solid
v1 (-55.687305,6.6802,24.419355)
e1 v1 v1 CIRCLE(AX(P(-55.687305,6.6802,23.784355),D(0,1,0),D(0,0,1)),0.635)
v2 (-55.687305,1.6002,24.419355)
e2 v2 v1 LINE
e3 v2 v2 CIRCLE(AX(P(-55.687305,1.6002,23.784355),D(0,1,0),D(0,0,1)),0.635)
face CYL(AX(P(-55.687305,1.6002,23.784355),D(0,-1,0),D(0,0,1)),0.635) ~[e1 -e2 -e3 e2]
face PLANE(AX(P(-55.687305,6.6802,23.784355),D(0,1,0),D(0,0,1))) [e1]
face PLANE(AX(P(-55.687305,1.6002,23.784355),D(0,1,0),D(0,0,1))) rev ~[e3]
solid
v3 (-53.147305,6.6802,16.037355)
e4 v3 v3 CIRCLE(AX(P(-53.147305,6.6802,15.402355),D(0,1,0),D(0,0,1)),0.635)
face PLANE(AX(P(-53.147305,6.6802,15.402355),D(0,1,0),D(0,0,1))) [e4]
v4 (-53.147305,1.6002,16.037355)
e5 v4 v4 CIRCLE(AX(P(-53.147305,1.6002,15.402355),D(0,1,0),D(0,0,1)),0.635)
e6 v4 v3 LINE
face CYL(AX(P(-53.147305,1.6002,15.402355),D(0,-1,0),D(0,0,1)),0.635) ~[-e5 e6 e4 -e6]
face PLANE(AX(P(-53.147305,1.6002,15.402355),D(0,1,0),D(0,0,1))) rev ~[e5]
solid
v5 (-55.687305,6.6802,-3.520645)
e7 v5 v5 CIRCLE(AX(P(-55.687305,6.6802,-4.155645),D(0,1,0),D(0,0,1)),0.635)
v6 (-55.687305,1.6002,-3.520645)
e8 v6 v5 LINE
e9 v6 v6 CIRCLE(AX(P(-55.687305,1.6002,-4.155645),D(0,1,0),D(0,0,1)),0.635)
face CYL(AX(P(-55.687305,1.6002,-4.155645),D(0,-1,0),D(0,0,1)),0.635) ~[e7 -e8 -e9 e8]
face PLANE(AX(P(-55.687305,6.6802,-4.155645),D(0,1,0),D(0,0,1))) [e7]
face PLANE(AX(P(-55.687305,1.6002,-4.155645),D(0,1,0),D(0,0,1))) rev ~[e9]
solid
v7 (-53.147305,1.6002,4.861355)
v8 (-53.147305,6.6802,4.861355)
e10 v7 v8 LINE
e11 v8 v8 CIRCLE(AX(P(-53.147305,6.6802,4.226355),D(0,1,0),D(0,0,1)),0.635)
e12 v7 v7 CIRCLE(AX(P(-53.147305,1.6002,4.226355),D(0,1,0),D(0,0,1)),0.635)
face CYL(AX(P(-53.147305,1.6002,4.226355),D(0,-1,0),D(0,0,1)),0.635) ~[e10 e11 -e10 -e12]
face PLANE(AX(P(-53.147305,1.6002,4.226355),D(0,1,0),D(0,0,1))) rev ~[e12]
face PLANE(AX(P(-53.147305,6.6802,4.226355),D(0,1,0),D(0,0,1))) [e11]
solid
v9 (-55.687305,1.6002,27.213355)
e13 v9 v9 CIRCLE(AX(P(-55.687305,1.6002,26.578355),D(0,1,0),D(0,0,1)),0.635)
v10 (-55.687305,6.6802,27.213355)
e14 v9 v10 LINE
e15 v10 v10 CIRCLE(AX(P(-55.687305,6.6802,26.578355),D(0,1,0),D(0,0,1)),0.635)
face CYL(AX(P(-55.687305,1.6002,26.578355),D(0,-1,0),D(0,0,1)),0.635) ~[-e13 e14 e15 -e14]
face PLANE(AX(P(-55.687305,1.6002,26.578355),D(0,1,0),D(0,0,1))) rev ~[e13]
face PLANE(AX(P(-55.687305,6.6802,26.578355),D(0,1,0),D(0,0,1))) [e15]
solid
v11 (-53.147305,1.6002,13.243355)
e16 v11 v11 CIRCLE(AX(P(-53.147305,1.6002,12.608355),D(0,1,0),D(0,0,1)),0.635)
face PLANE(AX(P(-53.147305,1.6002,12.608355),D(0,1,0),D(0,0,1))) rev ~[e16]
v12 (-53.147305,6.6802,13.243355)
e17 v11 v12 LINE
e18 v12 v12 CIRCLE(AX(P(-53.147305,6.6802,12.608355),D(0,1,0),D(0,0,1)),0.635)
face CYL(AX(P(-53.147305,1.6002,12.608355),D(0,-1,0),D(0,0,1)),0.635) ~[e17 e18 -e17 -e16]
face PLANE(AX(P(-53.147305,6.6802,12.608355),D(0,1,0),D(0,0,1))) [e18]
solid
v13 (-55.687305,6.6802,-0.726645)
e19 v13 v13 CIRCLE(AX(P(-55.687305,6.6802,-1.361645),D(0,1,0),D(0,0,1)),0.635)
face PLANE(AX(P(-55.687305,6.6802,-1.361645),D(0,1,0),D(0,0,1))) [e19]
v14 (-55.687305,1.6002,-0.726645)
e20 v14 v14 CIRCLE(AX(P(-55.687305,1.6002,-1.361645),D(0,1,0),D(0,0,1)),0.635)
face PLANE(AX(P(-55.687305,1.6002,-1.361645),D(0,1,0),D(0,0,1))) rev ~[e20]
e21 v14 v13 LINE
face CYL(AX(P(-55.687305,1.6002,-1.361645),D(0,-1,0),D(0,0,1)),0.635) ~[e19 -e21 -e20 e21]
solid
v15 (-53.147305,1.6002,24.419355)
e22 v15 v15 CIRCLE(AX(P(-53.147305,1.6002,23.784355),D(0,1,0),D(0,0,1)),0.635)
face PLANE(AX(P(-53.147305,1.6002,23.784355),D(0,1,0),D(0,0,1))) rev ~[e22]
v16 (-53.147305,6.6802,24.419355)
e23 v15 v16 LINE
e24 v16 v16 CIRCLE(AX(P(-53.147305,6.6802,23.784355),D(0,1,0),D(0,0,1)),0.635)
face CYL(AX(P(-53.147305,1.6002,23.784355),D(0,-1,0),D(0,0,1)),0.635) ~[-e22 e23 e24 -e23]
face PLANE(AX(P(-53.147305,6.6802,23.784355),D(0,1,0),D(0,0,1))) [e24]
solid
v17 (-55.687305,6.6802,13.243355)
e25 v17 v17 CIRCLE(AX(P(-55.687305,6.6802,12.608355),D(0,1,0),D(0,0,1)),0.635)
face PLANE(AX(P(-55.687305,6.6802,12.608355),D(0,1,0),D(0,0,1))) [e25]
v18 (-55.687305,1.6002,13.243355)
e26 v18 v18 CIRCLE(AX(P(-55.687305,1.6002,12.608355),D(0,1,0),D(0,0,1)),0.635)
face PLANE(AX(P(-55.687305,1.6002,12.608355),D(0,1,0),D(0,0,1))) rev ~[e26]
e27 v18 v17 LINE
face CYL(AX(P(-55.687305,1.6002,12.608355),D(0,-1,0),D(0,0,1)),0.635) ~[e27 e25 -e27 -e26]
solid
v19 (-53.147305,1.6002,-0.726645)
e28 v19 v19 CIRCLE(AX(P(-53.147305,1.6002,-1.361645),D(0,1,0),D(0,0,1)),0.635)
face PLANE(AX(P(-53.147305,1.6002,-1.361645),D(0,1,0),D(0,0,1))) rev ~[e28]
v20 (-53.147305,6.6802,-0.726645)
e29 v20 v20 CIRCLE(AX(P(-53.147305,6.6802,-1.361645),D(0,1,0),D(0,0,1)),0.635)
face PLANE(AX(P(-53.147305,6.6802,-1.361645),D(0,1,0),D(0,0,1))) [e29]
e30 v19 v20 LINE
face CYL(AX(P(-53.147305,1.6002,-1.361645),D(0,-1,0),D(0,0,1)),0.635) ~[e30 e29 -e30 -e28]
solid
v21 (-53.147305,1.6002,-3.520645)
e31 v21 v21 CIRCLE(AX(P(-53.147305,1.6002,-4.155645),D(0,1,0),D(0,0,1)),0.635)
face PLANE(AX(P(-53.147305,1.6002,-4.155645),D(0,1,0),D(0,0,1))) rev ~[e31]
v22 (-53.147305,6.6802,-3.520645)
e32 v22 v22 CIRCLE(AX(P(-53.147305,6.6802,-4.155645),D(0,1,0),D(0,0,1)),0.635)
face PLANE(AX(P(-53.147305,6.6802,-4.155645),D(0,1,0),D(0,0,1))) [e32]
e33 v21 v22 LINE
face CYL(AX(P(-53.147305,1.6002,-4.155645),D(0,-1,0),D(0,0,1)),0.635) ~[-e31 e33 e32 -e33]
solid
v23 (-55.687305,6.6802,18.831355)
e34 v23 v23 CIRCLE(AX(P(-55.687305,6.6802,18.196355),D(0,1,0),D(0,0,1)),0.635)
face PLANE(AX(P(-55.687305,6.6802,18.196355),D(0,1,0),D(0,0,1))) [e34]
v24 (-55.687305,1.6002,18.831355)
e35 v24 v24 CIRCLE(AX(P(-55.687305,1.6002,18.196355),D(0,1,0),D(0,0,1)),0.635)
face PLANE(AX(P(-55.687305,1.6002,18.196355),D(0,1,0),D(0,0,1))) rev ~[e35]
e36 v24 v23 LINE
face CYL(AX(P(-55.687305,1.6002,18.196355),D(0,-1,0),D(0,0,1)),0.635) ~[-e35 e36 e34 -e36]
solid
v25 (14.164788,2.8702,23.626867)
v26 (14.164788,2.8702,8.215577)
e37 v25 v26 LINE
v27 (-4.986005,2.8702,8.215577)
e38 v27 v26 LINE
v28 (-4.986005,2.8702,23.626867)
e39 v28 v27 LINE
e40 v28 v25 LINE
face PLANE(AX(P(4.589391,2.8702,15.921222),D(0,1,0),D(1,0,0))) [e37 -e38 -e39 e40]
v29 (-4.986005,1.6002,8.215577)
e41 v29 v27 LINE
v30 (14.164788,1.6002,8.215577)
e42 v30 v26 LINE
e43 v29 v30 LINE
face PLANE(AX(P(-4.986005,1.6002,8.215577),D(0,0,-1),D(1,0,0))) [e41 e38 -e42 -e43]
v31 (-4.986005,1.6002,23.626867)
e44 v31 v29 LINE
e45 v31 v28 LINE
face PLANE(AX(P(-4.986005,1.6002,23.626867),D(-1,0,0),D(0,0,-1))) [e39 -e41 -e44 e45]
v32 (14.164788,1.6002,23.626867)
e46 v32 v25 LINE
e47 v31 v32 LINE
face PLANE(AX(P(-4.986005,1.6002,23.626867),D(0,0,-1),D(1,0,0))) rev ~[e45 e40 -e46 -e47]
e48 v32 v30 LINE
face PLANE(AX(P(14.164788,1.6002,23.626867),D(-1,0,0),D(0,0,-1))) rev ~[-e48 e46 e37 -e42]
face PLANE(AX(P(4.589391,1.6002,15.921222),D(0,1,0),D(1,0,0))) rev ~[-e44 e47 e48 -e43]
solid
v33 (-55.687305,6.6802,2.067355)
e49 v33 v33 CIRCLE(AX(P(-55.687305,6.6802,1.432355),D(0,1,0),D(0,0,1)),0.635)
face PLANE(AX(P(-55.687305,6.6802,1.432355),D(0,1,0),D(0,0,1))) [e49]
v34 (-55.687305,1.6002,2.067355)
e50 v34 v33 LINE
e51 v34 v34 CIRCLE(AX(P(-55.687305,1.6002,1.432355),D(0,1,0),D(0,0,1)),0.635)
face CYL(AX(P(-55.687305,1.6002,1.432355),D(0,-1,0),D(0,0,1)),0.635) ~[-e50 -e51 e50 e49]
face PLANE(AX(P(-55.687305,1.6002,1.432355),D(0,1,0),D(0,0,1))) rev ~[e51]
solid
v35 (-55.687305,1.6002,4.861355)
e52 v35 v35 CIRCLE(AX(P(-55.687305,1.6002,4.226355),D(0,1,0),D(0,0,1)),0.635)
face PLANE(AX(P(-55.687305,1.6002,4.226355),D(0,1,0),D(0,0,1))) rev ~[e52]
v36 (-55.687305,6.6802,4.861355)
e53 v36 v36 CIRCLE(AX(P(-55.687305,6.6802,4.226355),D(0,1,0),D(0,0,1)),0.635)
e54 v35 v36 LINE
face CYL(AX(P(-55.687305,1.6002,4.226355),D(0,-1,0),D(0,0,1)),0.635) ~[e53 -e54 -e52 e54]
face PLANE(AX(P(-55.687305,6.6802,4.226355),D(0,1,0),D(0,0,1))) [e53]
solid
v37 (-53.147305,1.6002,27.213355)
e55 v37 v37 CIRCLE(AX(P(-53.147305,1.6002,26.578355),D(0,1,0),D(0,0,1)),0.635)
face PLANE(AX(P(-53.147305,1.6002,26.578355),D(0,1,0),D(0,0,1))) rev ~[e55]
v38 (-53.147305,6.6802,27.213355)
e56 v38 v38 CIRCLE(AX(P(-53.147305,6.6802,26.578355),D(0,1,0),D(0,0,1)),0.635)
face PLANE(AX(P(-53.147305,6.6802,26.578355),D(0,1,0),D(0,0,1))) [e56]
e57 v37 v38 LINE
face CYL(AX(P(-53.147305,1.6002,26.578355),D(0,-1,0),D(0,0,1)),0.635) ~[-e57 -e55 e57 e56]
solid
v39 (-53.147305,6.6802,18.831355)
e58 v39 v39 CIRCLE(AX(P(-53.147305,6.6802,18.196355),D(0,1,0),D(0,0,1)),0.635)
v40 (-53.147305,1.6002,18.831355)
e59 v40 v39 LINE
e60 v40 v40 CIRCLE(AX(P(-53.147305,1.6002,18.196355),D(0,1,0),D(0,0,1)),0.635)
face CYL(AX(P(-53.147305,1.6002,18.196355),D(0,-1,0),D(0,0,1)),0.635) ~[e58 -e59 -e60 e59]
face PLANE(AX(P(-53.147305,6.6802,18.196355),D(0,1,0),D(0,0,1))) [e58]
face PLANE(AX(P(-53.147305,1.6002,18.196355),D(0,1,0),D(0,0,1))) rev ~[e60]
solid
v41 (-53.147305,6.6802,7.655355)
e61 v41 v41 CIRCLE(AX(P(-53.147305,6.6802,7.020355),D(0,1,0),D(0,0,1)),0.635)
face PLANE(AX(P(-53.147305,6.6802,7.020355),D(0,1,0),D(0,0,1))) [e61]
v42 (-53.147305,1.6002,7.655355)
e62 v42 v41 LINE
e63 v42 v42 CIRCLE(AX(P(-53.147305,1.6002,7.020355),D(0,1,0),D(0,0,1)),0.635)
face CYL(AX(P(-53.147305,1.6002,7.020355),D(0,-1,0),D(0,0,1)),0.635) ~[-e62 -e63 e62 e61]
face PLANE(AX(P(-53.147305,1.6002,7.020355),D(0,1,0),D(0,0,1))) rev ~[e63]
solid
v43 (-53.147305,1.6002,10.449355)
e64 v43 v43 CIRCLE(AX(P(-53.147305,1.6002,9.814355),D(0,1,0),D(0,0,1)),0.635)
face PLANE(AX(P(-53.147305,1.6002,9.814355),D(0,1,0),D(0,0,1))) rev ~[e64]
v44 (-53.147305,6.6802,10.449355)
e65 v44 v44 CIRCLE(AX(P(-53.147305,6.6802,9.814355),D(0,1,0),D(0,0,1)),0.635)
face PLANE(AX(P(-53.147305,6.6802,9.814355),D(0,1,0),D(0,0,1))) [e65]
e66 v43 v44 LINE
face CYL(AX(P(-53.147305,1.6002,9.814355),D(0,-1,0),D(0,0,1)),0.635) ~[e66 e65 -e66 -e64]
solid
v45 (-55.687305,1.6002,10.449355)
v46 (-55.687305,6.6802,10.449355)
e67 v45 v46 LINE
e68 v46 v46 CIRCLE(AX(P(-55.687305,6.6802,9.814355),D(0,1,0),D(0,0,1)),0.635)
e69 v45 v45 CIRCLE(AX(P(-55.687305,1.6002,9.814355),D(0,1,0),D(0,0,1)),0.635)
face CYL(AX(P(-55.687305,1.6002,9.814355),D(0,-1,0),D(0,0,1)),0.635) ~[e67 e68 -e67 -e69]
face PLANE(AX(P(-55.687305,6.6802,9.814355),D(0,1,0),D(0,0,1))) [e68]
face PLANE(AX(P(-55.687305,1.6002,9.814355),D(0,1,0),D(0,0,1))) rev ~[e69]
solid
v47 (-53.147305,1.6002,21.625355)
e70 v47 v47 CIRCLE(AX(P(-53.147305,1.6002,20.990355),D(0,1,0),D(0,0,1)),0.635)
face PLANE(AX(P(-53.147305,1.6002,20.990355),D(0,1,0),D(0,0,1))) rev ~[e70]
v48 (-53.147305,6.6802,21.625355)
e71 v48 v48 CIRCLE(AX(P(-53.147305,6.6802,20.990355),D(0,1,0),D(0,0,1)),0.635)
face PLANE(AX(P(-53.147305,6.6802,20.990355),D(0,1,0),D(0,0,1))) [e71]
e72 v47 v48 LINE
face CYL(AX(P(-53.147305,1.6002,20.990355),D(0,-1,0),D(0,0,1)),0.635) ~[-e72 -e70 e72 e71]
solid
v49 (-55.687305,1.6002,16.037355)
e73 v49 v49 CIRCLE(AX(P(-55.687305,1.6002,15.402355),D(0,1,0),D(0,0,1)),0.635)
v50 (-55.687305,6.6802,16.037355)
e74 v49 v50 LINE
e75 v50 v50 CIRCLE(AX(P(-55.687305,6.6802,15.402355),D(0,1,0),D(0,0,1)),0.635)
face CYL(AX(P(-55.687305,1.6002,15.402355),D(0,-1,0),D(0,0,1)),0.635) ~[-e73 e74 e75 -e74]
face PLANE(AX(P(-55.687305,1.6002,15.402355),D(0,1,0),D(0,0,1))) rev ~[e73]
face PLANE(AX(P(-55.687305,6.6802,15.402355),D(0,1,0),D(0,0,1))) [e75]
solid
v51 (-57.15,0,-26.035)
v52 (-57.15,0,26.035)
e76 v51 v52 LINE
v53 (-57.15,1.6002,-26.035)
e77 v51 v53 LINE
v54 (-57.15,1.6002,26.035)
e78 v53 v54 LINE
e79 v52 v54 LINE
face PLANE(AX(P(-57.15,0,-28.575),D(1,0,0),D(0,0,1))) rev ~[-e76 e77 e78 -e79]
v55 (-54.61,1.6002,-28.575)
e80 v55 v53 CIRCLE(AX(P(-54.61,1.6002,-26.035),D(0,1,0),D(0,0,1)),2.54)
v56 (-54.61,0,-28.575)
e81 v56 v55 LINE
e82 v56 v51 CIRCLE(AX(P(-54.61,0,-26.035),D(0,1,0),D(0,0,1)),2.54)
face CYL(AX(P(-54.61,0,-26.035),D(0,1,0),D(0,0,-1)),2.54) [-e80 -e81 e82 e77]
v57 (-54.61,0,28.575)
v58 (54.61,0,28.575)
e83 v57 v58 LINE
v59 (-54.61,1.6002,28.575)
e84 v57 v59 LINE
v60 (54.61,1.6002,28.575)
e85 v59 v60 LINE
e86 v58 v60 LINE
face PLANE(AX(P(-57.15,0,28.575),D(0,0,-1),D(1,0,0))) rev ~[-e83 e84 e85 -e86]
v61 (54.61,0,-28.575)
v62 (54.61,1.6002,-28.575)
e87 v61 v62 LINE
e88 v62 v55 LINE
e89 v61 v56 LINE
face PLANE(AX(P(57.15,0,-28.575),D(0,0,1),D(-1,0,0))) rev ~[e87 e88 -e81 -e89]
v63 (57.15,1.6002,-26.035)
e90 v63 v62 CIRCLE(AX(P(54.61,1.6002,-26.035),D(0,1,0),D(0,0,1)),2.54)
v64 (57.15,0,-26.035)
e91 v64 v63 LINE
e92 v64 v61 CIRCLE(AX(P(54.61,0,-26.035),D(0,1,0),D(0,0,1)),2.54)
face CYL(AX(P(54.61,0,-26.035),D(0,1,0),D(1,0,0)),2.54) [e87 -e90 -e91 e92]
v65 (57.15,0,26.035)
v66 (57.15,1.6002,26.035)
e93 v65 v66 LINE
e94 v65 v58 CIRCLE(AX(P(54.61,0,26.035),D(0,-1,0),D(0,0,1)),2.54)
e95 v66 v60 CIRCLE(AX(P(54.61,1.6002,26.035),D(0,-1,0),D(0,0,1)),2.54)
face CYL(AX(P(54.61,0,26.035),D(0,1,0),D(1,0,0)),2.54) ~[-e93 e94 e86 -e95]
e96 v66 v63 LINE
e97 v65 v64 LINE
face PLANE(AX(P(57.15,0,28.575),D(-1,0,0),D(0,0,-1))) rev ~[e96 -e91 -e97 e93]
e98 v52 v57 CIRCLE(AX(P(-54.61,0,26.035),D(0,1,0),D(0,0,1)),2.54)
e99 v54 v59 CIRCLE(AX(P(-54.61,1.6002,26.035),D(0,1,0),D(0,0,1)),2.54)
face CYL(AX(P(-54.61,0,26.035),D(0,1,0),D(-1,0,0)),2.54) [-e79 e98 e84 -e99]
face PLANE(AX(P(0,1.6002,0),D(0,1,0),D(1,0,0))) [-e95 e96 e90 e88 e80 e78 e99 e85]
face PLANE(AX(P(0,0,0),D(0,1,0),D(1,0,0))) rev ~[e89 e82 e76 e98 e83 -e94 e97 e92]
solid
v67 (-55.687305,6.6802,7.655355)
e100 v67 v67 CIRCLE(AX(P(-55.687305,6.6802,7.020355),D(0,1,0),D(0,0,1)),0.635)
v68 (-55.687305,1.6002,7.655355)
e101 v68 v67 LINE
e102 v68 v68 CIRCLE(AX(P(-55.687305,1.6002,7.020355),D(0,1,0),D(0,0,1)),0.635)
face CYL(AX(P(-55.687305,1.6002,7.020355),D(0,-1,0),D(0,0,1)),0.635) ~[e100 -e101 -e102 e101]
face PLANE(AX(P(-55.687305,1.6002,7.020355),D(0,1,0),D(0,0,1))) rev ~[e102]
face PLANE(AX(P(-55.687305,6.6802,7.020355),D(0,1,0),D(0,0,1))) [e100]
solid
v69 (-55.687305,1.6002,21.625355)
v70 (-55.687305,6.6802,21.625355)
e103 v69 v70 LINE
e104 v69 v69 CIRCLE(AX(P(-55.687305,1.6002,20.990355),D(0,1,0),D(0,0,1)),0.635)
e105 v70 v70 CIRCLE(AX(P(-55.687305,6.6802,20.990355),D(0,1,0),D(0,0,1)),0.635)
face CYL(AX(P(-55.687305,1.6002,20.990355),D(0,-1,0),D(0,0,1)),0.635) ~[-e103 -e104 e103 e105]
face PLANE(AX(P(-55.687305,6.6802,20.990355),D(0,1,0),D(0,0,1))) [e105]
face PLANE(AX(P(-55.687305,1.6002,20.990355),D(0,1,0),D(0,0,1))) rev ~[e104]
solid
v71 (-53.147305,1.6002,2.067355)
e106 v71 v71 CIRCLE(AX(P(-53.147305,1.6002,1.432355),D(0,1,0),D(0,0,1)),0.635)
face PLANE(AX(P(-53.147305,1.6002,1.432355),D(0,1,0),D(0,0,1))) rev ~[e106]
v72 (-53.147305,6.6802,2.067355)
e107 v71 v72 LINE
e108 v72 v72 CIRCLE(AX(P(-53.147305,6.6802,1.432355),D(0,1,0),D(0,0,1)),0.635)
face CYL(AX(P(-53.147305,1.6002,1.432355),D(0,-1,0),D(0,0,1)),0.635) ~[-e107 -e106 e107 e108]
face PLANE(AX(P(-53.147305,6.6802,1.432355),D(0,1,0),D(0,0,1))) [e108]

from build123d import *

# Parameters (mm, degrees)
EXTRUDE1_DEPTH    = 1.6002
FILLET1_R         = 2.54
SKETCH2_W         = 19.150793651
SKETCH2_H         = 15.411289565
EXTRUDE2_DEPTH    = 1.27
SKETCH3_R         = 0.635
EXTRUDE3_DEPTH    = 5.08
EXTRUDE3_2_DEPTH  = 5.08
EXTRUDE3_3_DEPTH  = 5.08
EXTRUDE3_4_DEPTH  = 5.08
EXTRUDE3_5_DEPTH  = 5.08
EXTRUDE3_6_DEPTH  = 5.08
EXTRUDE3_7_DEPTH  = 5.08
EXTRUDE3_8_DEPTH  = 5.08
EXTRUDE3_9_DEPTH  = 5.08
EXTRUDE3_10_DEPTH = 5.08
EXTRUDE3_11_DEPTH = 5.08
EXTRUDE3_12_DEPTH = 5.08
EXTRUDE3_13_DEPTH = 5.08
EXTRUDE3_14_DEPTH = 5.08
EXTRUDE3_15_DEPTH = 5.08
EXTRUDE3_16_DEPTH = 5.08
EXTRUDE3_17_DEPTH = 5.08
EXTRUDE3_18_DEPTH = 5.08
EXTRUDE3_19_DEPTH = 5.08
EXTRUDE3_20_DEPTH = 5.08
EXTRUDE3_21_DEPTH = 5.08
EXTRUDE3_22_DEPTH = 5.08
EXTRUDE3_23_DEPTH = 5.08
EXTRUDE3_24_DEPTH = 5.08


with BuildPart() as part:
    # Sketch1 → Extrude1 (new body)
    with BuildSketch(Plane(origin=(0, 0, 0), x_dir=(1, 0, 0), z_dir=(0, 1, 0))):
        Polygon((-55.88, -28.575), (49.53, -28.575), (57.15, -28.575), (57.15, -22.225), (57.15, 28.575), (-57.15, 28.575), (-57.15, -22.225), (-57.15, -28.575), align=None)
    extrude(amount=EXTRUDE1_DEPTH)

    # Fillet1
    fillet1_edges = [part.edges().sort_by_distance(p)[0] for p in [
        (57.15, 0.8001, 28.575),
        (-57.15, 0.8001, 28.575),
        (-57.15, 0.8001, -28.575),
        (57.15, 0.8001, -28.575),
    ]]
    fillet(fillet1_edges, radius=FILLET1_R)


with BuildPart() as body_2:
    # Sketch2 → Extrude2 (new body)
    with BuildSketch(Plane(origin=(0, 1.6002, 0), x_dir=(1, 0, 0), z_dir=(0, 1, 0))):
        with Locations((4.589391378, -15.921221941)):
            Rectangle(SKETCH2_W, SKETCH2_H)
    extrude(amount=EXTRUDE2_DEPTH)


with BuildPart() as body_3:
    # Sketch3 → Extrude3 (new body)
    with BuildSketch(Plane(origin=(0, 1.6002, 0), x_dir=(1, 0, 0), z_dir=(0, 1, 0))):
        with Locations(Location((-55.687305366, 4.155645404, 0), (0, 0, 270))):  # turned: the seam where the file's is
            Circle(SKETCH3_R)
    extrude(amount=EXTRUDE3_DEPTH)


with BuildPart() as body_4:
    # Sketch3 → Extrude3 2 (new body)
    with BuildSketch(Plane(origin=(0, 1.6002, 0), x_dir=(1, 0, 0), z_dir=(0, 1, 0))):
        with Locations(Location((-53.147305366, 4.155645404, 0), (0, 0, 270))):  # turned: the seam where the file's is
            Circle(SKETCH3_R)
    extrude(amount=EXTRUDE3_2_DEPTH)


with BuildPart() as body_5:
    # Sketch3 → Extrude3 3 (new body)
    with BuildSketch(Plane(origin=(0, 1.6002, 0), x_dir=(1, 0, 0), z_dir=(0, 1, 0))):
        with Locations(Location((-55.687305366, 1.361645404, 0), (0, 0, 270))):  # turned: the seam where the file's is
            Circle(SKETCH3_R)
    extrude(amount=EXTRUDE3_3_DEPTH)


with BuildPart() as body_6:
    # Sketch3 → Extrude3 4 (new body)
    with BuildSketch(Plane(origin=(0, 1.6002, 0), x_dir=(1, 0, 0), z_dir=(0, 1, 0))):
        with Locations(Location((-53.147305366, 1.361645404, 0), (0, 0, 270))):  # turned: the seam where the file's is
            Circle(SKETCH3_R)
    extrude(amount=EXTRUDE3_4_DEPTH)


with BuildPart() as body_7:
    # Sketch3 → Extrude3 5 (new body)
    with BuildSketch(Plane(origin=(0, 1.6002, 0), x_dir=(1, 0, 0), z_dir=(0, 1, 0))):
        with Locations(Location((-55.687305366, -1.432354596, 0), (0, 0, 270))):  # turned: the seam where the file's is
            Circle(SKETCH3_R)
    extrude(amount=EXTRUDE3_5_DEPTH)


with BuildPart() as body_8:
    # Sketch3 → Extrude3 6 (new body)
    with BuildSketch(Plane(origin=(0, 1.6002, 0), x_dir=(1, 0, 0), z_dir=(0, 1, 0))):
        with Locations(Location((-53.147305366, -1.432354596, 0), (0, 0, 270))):  # turned: the seam where the file's is
            Circle(SKETCH3_R)
    extrude(amount=EXTRUDE3_6_DEPTH)


with BuildPart() as body_9:
    # Sketch3 → Extrude3 7 (new body)
    with BuildSketch(Plane(origin=(0, 1.6002, 0), x_dir=(1, 0, 0), z_dir=(0, 1, 0))):
        with Locations(Location((-55.687305366, -4.226354596, 0), (0, 0, 270))):  # turned: the seam where the file's is
            Circle(SKETCH3_R)
    extrude(amount=EXTRUDE3_7_DEPTH)


with BuildPart() as body_10:
    # Sketch3 → Extrude3 8 (new body)
    with BuildSketch(Plane(origin=(0, 1.6002, 0), x_dir=(1, 0, 0), z_dir=(0, 1, 0))):
        with Locations(Location((-53.147305366, -4.226354596, 0), (0, 0, 270))):  # turned: the seam where the file's is
            Circle(SKETCH3_R)
    extrude(amount=EXTRUDE3_8_DEPTH)


with BuildPart() as body_11:
    # Sketch3 → Extrude3 9 (new body)
    with BuildSketch(Plane(origin=(0, 1.6002, 0), x_dir=(1, 0, 0), z_dir=(0, 1, 0))):
        with Locations(Location((-55.687305366, -7.020354596, 0), (0, 0, 270))):  # turned: the seam where the file's is
            Circle(SKETCH3_R)
    extrude(amount=EXTRUDE3_9_DEPTH)


with BuildPart() as body_12:
    # Sketch3 → Extrude3 10 (new body)
    with BuildSketch(Plane(origin=(0, 1.6002, 0), x_dir=(1, 0, 0), z_dir=(0, 1, 0))):
        with Locations(Location((-53.147305366, -7.020354596, 0), (0, 0, 270))):  # turned: the seam where the file's is
            Circle(SKETCH3_R)
    extrude(amount=EXTRUDE3_10_DEPTH)


with BuildPart() as body_13:
    # Sketch3 → Extrude3 11 (new body)
    with BuildSketch(Plane(origin=(0, 1.6002, 0), x_dir=(1, 0, 0), z_dir=(0, 1, 0))):
        with Locations(Location((-55.687305366, -9.814354596, 0), (0, 0, 270))):  # turned: the seam where the file's is
            Circle(SKETCH3_R)
    extrude(amount=EXTRUDE3_11_DEPTH)


with BuildPart() as body_14:
    # Sketch3 → Extrude3 12 (new body)
    with BuildSketch(Plane(origin=(0, 1.6002, 0), x_dir=(1, 0, 0), z_dir=(0, 1, 0))):
        with Locations(Location((-53.147305366, -9.814354596, 0), (0, 0, 270))):  # turned: the seam where the file's is
            Circle(SKETCH3_R)
    extrude(amount=EXTRUDE3_12_DEPTH)


with BuildPart() as body_15:
    # Sketch3 → Extrude3 13 (new body)
    with BuildSketch(Plane(origin=(0, 1.6002, 0), x_dir=(1, 0, 0), z_dir=(0, 1, 0))):
        with Locations(Location((-55.687305366, -12.608354596, 0), (0, 0, 270))):  # turned: the seam where the file's is
            Circle(SKETCH3_R)
    extrude(amount=EXTRUDE3_13_DEPTH)


with BuildPart() as body_16:
    # Sketch3 → Extrude3 14 (new body)
    with BuildSketch(Plane(origin=(0, 1.6002, 0), x_dir=(1, 0, 0), z_dir=(0, 1, 0))):
        with Locations(Location((-53.147305366, -12.608354596, 0), (0, 0, 270))):  # turned: the seam where the file's is
            Circle(SKETCH3_R)
    extrude(amount=EXTRUDE3_14_DEPTH)


with BuildPart() as body_17:
    # Sketch3 → Extrude3 15 (new body)
    with BuildSketch(Plane(origin=(0, 1.6002, 0), x_dir=(1, 0, 0), z_dir=(0, 1, 0))):
        with Locations(Location((-55.687305366, -15.402354596, 0), (0, 0, 270))):  # turned: the seam where the file's is
            Circle(SKETCH3_R)
    extrude(amount=EXTRUDE3_15_DEPTH)


with BuildPart() as body_18:
    # Sketch3 → Extrude3 16 (new body)
    with BuildSketch(Plane(origin=(0, 1.6002, 0), x_dir=(1, 0, 0), z_dir=(0, 1, 0))):
        with Locations(Location((-53.147305366, -15.402354596, 0), (0, 0, 270))):  # turned: the seam where the file's is
            Circle(SKETCH3_R)
    extrude(amount=EXTRUDE3_16_DEPTH)


with BuildPart() as body_19:
    # Sketch3 → Extrude3 17 (new body)
    with BuildSketch(Plane(origin=(0, 1.6002, 0), x_dir=(1, 0, 0), z_dir=(0, 1, 0))):
        with Locations(Location((-55.687305366, -18.196354596, 0), (0, 0, 270))):  # turned: the seam where the file's is
            Circle(SKETCH3_R)
    extrude(amount=EXTRUDE3_17_DEPTH)


with BuildPart() as body_20:
    # Sketch3 → Extrude3 18 (new body)
    with BuildSketch(Plane(origin=(0, 1.6002, 0), x_dir=(1, 0, 0), z_dir=(0, 1, 0))):
        with Locations(Location((-53.147305366, -18.196354596, 0), (0, 0, 270))):  # turned: the seam where the file's is
            Circle(SKETCH3_R)
    extrude(amount=EXTRUDE3_18_DEPTH)


with BuildPart() as body_21:
    # Sketch3 → Extrude3 19 (new body)
    with BuildSketch(Plane(origin=(0, 1.6002, 0), x_dir=(1, 0, 0), z_dir=(0, 1, 0))):
        with Locations(Location((-55.687305366, -20.990354596, 0), (0, 0, 270))):  # turned: the seam where the file's is
            Circle(SKETCH3_R)
    extrude(amount=EXTRUDE3_19_DEPTH)


with BuildPart() as body_22:
    # Sketch3 → Extrude3 20 (new body)
    with BuildSketch(Plane(origin=(0, 1.6002, 0), x_dir=(1, 0, 0), z_dir=(0, 1, 0))):
        with Locations(Location((-53.147305366, -20.990354596, 0), (0, 0, 270))):  # turned: the seam where the file's is
            Circle(SKETCH3_R)
    extrude(amount=EXTRUDE3_20_DEPTH)


with BuildPart() as body_23:
    # Sketch3 → Extrude3 21 (new body)
    with BuildSketch(Plane(origin=(0, 1.6002, 0), x_dir=(1, 0, 0), z_dir=(0, 1, 0))):
        with Locations(Location((-55.687305366, -23.784354596, 0), (0, 0, 270))):  # turned: the seam where the file's is
            Circle(SKETCH3_R)
    extrude(amount=EXTRUDE3_21_DEPTH)


with BuildPart() as body_24:
    # Sketch3 → Extrude3 22 (new body)
    with BuildSketch(Plane(origin=(0, 1.6002, 0), x_dir=(1, 0, 0), z_dir=(0, 1, 0))):
        with Locations(Location((-53.147305366, -23.784354596, 0), (0, 0, 270))):  # turned: the seam where the file's is
            Circle(SKETCH3_R)
    extrude(amount=EXTRUDE3_22_DEPTH)


with BuildPart() as body_25:
    # Sketch3 → Extrude3 23 (new body)
    with BuildSketch(Plane(origin=(0, 1.6002, 0), x_dir=(1, 0, 0), z_dir=(0, 1, 0))):
        with Locations(Location((-55.687305366, -26.578354596, 0), (0, 0, 270))):  # turned: the seam where the file's is
            Circle(SKETCH3_R)
    extrude(amount=EXTRUDE3_23_DEPTH)


with BuildPart() as body_26:
    # Sketch3 → Extrude3 24 (new body)
    with BuildSketch(Plane(origin=(0, 1.6002, 0), x_dir=(1, 0, 0), z_dir=(0, 1, 0))):
        with Locations(Location((-53.147305366, -26.578354596, 0), (0, 0, 270))):  # turned: the seam where the file's is
            Circle(SKETCH3_R)
    extrude(amount=EXTRUDE3_24_DEPTH)


solid = Compound([part.part, body_2.part, body_3.part, body_4.part, body_5.part, body_6.part, body_7.part, body_8.part, body_9.part, body_10.part, body_11.part, body_12.part, body_13.part, body_14.part, body_15.part, body_16.part, body_17.part, body_18.part, body_19.part, body_20.part, body_21.part, body_22.part, body_23.part, body_24.part, body_25.part, body_26.part])
